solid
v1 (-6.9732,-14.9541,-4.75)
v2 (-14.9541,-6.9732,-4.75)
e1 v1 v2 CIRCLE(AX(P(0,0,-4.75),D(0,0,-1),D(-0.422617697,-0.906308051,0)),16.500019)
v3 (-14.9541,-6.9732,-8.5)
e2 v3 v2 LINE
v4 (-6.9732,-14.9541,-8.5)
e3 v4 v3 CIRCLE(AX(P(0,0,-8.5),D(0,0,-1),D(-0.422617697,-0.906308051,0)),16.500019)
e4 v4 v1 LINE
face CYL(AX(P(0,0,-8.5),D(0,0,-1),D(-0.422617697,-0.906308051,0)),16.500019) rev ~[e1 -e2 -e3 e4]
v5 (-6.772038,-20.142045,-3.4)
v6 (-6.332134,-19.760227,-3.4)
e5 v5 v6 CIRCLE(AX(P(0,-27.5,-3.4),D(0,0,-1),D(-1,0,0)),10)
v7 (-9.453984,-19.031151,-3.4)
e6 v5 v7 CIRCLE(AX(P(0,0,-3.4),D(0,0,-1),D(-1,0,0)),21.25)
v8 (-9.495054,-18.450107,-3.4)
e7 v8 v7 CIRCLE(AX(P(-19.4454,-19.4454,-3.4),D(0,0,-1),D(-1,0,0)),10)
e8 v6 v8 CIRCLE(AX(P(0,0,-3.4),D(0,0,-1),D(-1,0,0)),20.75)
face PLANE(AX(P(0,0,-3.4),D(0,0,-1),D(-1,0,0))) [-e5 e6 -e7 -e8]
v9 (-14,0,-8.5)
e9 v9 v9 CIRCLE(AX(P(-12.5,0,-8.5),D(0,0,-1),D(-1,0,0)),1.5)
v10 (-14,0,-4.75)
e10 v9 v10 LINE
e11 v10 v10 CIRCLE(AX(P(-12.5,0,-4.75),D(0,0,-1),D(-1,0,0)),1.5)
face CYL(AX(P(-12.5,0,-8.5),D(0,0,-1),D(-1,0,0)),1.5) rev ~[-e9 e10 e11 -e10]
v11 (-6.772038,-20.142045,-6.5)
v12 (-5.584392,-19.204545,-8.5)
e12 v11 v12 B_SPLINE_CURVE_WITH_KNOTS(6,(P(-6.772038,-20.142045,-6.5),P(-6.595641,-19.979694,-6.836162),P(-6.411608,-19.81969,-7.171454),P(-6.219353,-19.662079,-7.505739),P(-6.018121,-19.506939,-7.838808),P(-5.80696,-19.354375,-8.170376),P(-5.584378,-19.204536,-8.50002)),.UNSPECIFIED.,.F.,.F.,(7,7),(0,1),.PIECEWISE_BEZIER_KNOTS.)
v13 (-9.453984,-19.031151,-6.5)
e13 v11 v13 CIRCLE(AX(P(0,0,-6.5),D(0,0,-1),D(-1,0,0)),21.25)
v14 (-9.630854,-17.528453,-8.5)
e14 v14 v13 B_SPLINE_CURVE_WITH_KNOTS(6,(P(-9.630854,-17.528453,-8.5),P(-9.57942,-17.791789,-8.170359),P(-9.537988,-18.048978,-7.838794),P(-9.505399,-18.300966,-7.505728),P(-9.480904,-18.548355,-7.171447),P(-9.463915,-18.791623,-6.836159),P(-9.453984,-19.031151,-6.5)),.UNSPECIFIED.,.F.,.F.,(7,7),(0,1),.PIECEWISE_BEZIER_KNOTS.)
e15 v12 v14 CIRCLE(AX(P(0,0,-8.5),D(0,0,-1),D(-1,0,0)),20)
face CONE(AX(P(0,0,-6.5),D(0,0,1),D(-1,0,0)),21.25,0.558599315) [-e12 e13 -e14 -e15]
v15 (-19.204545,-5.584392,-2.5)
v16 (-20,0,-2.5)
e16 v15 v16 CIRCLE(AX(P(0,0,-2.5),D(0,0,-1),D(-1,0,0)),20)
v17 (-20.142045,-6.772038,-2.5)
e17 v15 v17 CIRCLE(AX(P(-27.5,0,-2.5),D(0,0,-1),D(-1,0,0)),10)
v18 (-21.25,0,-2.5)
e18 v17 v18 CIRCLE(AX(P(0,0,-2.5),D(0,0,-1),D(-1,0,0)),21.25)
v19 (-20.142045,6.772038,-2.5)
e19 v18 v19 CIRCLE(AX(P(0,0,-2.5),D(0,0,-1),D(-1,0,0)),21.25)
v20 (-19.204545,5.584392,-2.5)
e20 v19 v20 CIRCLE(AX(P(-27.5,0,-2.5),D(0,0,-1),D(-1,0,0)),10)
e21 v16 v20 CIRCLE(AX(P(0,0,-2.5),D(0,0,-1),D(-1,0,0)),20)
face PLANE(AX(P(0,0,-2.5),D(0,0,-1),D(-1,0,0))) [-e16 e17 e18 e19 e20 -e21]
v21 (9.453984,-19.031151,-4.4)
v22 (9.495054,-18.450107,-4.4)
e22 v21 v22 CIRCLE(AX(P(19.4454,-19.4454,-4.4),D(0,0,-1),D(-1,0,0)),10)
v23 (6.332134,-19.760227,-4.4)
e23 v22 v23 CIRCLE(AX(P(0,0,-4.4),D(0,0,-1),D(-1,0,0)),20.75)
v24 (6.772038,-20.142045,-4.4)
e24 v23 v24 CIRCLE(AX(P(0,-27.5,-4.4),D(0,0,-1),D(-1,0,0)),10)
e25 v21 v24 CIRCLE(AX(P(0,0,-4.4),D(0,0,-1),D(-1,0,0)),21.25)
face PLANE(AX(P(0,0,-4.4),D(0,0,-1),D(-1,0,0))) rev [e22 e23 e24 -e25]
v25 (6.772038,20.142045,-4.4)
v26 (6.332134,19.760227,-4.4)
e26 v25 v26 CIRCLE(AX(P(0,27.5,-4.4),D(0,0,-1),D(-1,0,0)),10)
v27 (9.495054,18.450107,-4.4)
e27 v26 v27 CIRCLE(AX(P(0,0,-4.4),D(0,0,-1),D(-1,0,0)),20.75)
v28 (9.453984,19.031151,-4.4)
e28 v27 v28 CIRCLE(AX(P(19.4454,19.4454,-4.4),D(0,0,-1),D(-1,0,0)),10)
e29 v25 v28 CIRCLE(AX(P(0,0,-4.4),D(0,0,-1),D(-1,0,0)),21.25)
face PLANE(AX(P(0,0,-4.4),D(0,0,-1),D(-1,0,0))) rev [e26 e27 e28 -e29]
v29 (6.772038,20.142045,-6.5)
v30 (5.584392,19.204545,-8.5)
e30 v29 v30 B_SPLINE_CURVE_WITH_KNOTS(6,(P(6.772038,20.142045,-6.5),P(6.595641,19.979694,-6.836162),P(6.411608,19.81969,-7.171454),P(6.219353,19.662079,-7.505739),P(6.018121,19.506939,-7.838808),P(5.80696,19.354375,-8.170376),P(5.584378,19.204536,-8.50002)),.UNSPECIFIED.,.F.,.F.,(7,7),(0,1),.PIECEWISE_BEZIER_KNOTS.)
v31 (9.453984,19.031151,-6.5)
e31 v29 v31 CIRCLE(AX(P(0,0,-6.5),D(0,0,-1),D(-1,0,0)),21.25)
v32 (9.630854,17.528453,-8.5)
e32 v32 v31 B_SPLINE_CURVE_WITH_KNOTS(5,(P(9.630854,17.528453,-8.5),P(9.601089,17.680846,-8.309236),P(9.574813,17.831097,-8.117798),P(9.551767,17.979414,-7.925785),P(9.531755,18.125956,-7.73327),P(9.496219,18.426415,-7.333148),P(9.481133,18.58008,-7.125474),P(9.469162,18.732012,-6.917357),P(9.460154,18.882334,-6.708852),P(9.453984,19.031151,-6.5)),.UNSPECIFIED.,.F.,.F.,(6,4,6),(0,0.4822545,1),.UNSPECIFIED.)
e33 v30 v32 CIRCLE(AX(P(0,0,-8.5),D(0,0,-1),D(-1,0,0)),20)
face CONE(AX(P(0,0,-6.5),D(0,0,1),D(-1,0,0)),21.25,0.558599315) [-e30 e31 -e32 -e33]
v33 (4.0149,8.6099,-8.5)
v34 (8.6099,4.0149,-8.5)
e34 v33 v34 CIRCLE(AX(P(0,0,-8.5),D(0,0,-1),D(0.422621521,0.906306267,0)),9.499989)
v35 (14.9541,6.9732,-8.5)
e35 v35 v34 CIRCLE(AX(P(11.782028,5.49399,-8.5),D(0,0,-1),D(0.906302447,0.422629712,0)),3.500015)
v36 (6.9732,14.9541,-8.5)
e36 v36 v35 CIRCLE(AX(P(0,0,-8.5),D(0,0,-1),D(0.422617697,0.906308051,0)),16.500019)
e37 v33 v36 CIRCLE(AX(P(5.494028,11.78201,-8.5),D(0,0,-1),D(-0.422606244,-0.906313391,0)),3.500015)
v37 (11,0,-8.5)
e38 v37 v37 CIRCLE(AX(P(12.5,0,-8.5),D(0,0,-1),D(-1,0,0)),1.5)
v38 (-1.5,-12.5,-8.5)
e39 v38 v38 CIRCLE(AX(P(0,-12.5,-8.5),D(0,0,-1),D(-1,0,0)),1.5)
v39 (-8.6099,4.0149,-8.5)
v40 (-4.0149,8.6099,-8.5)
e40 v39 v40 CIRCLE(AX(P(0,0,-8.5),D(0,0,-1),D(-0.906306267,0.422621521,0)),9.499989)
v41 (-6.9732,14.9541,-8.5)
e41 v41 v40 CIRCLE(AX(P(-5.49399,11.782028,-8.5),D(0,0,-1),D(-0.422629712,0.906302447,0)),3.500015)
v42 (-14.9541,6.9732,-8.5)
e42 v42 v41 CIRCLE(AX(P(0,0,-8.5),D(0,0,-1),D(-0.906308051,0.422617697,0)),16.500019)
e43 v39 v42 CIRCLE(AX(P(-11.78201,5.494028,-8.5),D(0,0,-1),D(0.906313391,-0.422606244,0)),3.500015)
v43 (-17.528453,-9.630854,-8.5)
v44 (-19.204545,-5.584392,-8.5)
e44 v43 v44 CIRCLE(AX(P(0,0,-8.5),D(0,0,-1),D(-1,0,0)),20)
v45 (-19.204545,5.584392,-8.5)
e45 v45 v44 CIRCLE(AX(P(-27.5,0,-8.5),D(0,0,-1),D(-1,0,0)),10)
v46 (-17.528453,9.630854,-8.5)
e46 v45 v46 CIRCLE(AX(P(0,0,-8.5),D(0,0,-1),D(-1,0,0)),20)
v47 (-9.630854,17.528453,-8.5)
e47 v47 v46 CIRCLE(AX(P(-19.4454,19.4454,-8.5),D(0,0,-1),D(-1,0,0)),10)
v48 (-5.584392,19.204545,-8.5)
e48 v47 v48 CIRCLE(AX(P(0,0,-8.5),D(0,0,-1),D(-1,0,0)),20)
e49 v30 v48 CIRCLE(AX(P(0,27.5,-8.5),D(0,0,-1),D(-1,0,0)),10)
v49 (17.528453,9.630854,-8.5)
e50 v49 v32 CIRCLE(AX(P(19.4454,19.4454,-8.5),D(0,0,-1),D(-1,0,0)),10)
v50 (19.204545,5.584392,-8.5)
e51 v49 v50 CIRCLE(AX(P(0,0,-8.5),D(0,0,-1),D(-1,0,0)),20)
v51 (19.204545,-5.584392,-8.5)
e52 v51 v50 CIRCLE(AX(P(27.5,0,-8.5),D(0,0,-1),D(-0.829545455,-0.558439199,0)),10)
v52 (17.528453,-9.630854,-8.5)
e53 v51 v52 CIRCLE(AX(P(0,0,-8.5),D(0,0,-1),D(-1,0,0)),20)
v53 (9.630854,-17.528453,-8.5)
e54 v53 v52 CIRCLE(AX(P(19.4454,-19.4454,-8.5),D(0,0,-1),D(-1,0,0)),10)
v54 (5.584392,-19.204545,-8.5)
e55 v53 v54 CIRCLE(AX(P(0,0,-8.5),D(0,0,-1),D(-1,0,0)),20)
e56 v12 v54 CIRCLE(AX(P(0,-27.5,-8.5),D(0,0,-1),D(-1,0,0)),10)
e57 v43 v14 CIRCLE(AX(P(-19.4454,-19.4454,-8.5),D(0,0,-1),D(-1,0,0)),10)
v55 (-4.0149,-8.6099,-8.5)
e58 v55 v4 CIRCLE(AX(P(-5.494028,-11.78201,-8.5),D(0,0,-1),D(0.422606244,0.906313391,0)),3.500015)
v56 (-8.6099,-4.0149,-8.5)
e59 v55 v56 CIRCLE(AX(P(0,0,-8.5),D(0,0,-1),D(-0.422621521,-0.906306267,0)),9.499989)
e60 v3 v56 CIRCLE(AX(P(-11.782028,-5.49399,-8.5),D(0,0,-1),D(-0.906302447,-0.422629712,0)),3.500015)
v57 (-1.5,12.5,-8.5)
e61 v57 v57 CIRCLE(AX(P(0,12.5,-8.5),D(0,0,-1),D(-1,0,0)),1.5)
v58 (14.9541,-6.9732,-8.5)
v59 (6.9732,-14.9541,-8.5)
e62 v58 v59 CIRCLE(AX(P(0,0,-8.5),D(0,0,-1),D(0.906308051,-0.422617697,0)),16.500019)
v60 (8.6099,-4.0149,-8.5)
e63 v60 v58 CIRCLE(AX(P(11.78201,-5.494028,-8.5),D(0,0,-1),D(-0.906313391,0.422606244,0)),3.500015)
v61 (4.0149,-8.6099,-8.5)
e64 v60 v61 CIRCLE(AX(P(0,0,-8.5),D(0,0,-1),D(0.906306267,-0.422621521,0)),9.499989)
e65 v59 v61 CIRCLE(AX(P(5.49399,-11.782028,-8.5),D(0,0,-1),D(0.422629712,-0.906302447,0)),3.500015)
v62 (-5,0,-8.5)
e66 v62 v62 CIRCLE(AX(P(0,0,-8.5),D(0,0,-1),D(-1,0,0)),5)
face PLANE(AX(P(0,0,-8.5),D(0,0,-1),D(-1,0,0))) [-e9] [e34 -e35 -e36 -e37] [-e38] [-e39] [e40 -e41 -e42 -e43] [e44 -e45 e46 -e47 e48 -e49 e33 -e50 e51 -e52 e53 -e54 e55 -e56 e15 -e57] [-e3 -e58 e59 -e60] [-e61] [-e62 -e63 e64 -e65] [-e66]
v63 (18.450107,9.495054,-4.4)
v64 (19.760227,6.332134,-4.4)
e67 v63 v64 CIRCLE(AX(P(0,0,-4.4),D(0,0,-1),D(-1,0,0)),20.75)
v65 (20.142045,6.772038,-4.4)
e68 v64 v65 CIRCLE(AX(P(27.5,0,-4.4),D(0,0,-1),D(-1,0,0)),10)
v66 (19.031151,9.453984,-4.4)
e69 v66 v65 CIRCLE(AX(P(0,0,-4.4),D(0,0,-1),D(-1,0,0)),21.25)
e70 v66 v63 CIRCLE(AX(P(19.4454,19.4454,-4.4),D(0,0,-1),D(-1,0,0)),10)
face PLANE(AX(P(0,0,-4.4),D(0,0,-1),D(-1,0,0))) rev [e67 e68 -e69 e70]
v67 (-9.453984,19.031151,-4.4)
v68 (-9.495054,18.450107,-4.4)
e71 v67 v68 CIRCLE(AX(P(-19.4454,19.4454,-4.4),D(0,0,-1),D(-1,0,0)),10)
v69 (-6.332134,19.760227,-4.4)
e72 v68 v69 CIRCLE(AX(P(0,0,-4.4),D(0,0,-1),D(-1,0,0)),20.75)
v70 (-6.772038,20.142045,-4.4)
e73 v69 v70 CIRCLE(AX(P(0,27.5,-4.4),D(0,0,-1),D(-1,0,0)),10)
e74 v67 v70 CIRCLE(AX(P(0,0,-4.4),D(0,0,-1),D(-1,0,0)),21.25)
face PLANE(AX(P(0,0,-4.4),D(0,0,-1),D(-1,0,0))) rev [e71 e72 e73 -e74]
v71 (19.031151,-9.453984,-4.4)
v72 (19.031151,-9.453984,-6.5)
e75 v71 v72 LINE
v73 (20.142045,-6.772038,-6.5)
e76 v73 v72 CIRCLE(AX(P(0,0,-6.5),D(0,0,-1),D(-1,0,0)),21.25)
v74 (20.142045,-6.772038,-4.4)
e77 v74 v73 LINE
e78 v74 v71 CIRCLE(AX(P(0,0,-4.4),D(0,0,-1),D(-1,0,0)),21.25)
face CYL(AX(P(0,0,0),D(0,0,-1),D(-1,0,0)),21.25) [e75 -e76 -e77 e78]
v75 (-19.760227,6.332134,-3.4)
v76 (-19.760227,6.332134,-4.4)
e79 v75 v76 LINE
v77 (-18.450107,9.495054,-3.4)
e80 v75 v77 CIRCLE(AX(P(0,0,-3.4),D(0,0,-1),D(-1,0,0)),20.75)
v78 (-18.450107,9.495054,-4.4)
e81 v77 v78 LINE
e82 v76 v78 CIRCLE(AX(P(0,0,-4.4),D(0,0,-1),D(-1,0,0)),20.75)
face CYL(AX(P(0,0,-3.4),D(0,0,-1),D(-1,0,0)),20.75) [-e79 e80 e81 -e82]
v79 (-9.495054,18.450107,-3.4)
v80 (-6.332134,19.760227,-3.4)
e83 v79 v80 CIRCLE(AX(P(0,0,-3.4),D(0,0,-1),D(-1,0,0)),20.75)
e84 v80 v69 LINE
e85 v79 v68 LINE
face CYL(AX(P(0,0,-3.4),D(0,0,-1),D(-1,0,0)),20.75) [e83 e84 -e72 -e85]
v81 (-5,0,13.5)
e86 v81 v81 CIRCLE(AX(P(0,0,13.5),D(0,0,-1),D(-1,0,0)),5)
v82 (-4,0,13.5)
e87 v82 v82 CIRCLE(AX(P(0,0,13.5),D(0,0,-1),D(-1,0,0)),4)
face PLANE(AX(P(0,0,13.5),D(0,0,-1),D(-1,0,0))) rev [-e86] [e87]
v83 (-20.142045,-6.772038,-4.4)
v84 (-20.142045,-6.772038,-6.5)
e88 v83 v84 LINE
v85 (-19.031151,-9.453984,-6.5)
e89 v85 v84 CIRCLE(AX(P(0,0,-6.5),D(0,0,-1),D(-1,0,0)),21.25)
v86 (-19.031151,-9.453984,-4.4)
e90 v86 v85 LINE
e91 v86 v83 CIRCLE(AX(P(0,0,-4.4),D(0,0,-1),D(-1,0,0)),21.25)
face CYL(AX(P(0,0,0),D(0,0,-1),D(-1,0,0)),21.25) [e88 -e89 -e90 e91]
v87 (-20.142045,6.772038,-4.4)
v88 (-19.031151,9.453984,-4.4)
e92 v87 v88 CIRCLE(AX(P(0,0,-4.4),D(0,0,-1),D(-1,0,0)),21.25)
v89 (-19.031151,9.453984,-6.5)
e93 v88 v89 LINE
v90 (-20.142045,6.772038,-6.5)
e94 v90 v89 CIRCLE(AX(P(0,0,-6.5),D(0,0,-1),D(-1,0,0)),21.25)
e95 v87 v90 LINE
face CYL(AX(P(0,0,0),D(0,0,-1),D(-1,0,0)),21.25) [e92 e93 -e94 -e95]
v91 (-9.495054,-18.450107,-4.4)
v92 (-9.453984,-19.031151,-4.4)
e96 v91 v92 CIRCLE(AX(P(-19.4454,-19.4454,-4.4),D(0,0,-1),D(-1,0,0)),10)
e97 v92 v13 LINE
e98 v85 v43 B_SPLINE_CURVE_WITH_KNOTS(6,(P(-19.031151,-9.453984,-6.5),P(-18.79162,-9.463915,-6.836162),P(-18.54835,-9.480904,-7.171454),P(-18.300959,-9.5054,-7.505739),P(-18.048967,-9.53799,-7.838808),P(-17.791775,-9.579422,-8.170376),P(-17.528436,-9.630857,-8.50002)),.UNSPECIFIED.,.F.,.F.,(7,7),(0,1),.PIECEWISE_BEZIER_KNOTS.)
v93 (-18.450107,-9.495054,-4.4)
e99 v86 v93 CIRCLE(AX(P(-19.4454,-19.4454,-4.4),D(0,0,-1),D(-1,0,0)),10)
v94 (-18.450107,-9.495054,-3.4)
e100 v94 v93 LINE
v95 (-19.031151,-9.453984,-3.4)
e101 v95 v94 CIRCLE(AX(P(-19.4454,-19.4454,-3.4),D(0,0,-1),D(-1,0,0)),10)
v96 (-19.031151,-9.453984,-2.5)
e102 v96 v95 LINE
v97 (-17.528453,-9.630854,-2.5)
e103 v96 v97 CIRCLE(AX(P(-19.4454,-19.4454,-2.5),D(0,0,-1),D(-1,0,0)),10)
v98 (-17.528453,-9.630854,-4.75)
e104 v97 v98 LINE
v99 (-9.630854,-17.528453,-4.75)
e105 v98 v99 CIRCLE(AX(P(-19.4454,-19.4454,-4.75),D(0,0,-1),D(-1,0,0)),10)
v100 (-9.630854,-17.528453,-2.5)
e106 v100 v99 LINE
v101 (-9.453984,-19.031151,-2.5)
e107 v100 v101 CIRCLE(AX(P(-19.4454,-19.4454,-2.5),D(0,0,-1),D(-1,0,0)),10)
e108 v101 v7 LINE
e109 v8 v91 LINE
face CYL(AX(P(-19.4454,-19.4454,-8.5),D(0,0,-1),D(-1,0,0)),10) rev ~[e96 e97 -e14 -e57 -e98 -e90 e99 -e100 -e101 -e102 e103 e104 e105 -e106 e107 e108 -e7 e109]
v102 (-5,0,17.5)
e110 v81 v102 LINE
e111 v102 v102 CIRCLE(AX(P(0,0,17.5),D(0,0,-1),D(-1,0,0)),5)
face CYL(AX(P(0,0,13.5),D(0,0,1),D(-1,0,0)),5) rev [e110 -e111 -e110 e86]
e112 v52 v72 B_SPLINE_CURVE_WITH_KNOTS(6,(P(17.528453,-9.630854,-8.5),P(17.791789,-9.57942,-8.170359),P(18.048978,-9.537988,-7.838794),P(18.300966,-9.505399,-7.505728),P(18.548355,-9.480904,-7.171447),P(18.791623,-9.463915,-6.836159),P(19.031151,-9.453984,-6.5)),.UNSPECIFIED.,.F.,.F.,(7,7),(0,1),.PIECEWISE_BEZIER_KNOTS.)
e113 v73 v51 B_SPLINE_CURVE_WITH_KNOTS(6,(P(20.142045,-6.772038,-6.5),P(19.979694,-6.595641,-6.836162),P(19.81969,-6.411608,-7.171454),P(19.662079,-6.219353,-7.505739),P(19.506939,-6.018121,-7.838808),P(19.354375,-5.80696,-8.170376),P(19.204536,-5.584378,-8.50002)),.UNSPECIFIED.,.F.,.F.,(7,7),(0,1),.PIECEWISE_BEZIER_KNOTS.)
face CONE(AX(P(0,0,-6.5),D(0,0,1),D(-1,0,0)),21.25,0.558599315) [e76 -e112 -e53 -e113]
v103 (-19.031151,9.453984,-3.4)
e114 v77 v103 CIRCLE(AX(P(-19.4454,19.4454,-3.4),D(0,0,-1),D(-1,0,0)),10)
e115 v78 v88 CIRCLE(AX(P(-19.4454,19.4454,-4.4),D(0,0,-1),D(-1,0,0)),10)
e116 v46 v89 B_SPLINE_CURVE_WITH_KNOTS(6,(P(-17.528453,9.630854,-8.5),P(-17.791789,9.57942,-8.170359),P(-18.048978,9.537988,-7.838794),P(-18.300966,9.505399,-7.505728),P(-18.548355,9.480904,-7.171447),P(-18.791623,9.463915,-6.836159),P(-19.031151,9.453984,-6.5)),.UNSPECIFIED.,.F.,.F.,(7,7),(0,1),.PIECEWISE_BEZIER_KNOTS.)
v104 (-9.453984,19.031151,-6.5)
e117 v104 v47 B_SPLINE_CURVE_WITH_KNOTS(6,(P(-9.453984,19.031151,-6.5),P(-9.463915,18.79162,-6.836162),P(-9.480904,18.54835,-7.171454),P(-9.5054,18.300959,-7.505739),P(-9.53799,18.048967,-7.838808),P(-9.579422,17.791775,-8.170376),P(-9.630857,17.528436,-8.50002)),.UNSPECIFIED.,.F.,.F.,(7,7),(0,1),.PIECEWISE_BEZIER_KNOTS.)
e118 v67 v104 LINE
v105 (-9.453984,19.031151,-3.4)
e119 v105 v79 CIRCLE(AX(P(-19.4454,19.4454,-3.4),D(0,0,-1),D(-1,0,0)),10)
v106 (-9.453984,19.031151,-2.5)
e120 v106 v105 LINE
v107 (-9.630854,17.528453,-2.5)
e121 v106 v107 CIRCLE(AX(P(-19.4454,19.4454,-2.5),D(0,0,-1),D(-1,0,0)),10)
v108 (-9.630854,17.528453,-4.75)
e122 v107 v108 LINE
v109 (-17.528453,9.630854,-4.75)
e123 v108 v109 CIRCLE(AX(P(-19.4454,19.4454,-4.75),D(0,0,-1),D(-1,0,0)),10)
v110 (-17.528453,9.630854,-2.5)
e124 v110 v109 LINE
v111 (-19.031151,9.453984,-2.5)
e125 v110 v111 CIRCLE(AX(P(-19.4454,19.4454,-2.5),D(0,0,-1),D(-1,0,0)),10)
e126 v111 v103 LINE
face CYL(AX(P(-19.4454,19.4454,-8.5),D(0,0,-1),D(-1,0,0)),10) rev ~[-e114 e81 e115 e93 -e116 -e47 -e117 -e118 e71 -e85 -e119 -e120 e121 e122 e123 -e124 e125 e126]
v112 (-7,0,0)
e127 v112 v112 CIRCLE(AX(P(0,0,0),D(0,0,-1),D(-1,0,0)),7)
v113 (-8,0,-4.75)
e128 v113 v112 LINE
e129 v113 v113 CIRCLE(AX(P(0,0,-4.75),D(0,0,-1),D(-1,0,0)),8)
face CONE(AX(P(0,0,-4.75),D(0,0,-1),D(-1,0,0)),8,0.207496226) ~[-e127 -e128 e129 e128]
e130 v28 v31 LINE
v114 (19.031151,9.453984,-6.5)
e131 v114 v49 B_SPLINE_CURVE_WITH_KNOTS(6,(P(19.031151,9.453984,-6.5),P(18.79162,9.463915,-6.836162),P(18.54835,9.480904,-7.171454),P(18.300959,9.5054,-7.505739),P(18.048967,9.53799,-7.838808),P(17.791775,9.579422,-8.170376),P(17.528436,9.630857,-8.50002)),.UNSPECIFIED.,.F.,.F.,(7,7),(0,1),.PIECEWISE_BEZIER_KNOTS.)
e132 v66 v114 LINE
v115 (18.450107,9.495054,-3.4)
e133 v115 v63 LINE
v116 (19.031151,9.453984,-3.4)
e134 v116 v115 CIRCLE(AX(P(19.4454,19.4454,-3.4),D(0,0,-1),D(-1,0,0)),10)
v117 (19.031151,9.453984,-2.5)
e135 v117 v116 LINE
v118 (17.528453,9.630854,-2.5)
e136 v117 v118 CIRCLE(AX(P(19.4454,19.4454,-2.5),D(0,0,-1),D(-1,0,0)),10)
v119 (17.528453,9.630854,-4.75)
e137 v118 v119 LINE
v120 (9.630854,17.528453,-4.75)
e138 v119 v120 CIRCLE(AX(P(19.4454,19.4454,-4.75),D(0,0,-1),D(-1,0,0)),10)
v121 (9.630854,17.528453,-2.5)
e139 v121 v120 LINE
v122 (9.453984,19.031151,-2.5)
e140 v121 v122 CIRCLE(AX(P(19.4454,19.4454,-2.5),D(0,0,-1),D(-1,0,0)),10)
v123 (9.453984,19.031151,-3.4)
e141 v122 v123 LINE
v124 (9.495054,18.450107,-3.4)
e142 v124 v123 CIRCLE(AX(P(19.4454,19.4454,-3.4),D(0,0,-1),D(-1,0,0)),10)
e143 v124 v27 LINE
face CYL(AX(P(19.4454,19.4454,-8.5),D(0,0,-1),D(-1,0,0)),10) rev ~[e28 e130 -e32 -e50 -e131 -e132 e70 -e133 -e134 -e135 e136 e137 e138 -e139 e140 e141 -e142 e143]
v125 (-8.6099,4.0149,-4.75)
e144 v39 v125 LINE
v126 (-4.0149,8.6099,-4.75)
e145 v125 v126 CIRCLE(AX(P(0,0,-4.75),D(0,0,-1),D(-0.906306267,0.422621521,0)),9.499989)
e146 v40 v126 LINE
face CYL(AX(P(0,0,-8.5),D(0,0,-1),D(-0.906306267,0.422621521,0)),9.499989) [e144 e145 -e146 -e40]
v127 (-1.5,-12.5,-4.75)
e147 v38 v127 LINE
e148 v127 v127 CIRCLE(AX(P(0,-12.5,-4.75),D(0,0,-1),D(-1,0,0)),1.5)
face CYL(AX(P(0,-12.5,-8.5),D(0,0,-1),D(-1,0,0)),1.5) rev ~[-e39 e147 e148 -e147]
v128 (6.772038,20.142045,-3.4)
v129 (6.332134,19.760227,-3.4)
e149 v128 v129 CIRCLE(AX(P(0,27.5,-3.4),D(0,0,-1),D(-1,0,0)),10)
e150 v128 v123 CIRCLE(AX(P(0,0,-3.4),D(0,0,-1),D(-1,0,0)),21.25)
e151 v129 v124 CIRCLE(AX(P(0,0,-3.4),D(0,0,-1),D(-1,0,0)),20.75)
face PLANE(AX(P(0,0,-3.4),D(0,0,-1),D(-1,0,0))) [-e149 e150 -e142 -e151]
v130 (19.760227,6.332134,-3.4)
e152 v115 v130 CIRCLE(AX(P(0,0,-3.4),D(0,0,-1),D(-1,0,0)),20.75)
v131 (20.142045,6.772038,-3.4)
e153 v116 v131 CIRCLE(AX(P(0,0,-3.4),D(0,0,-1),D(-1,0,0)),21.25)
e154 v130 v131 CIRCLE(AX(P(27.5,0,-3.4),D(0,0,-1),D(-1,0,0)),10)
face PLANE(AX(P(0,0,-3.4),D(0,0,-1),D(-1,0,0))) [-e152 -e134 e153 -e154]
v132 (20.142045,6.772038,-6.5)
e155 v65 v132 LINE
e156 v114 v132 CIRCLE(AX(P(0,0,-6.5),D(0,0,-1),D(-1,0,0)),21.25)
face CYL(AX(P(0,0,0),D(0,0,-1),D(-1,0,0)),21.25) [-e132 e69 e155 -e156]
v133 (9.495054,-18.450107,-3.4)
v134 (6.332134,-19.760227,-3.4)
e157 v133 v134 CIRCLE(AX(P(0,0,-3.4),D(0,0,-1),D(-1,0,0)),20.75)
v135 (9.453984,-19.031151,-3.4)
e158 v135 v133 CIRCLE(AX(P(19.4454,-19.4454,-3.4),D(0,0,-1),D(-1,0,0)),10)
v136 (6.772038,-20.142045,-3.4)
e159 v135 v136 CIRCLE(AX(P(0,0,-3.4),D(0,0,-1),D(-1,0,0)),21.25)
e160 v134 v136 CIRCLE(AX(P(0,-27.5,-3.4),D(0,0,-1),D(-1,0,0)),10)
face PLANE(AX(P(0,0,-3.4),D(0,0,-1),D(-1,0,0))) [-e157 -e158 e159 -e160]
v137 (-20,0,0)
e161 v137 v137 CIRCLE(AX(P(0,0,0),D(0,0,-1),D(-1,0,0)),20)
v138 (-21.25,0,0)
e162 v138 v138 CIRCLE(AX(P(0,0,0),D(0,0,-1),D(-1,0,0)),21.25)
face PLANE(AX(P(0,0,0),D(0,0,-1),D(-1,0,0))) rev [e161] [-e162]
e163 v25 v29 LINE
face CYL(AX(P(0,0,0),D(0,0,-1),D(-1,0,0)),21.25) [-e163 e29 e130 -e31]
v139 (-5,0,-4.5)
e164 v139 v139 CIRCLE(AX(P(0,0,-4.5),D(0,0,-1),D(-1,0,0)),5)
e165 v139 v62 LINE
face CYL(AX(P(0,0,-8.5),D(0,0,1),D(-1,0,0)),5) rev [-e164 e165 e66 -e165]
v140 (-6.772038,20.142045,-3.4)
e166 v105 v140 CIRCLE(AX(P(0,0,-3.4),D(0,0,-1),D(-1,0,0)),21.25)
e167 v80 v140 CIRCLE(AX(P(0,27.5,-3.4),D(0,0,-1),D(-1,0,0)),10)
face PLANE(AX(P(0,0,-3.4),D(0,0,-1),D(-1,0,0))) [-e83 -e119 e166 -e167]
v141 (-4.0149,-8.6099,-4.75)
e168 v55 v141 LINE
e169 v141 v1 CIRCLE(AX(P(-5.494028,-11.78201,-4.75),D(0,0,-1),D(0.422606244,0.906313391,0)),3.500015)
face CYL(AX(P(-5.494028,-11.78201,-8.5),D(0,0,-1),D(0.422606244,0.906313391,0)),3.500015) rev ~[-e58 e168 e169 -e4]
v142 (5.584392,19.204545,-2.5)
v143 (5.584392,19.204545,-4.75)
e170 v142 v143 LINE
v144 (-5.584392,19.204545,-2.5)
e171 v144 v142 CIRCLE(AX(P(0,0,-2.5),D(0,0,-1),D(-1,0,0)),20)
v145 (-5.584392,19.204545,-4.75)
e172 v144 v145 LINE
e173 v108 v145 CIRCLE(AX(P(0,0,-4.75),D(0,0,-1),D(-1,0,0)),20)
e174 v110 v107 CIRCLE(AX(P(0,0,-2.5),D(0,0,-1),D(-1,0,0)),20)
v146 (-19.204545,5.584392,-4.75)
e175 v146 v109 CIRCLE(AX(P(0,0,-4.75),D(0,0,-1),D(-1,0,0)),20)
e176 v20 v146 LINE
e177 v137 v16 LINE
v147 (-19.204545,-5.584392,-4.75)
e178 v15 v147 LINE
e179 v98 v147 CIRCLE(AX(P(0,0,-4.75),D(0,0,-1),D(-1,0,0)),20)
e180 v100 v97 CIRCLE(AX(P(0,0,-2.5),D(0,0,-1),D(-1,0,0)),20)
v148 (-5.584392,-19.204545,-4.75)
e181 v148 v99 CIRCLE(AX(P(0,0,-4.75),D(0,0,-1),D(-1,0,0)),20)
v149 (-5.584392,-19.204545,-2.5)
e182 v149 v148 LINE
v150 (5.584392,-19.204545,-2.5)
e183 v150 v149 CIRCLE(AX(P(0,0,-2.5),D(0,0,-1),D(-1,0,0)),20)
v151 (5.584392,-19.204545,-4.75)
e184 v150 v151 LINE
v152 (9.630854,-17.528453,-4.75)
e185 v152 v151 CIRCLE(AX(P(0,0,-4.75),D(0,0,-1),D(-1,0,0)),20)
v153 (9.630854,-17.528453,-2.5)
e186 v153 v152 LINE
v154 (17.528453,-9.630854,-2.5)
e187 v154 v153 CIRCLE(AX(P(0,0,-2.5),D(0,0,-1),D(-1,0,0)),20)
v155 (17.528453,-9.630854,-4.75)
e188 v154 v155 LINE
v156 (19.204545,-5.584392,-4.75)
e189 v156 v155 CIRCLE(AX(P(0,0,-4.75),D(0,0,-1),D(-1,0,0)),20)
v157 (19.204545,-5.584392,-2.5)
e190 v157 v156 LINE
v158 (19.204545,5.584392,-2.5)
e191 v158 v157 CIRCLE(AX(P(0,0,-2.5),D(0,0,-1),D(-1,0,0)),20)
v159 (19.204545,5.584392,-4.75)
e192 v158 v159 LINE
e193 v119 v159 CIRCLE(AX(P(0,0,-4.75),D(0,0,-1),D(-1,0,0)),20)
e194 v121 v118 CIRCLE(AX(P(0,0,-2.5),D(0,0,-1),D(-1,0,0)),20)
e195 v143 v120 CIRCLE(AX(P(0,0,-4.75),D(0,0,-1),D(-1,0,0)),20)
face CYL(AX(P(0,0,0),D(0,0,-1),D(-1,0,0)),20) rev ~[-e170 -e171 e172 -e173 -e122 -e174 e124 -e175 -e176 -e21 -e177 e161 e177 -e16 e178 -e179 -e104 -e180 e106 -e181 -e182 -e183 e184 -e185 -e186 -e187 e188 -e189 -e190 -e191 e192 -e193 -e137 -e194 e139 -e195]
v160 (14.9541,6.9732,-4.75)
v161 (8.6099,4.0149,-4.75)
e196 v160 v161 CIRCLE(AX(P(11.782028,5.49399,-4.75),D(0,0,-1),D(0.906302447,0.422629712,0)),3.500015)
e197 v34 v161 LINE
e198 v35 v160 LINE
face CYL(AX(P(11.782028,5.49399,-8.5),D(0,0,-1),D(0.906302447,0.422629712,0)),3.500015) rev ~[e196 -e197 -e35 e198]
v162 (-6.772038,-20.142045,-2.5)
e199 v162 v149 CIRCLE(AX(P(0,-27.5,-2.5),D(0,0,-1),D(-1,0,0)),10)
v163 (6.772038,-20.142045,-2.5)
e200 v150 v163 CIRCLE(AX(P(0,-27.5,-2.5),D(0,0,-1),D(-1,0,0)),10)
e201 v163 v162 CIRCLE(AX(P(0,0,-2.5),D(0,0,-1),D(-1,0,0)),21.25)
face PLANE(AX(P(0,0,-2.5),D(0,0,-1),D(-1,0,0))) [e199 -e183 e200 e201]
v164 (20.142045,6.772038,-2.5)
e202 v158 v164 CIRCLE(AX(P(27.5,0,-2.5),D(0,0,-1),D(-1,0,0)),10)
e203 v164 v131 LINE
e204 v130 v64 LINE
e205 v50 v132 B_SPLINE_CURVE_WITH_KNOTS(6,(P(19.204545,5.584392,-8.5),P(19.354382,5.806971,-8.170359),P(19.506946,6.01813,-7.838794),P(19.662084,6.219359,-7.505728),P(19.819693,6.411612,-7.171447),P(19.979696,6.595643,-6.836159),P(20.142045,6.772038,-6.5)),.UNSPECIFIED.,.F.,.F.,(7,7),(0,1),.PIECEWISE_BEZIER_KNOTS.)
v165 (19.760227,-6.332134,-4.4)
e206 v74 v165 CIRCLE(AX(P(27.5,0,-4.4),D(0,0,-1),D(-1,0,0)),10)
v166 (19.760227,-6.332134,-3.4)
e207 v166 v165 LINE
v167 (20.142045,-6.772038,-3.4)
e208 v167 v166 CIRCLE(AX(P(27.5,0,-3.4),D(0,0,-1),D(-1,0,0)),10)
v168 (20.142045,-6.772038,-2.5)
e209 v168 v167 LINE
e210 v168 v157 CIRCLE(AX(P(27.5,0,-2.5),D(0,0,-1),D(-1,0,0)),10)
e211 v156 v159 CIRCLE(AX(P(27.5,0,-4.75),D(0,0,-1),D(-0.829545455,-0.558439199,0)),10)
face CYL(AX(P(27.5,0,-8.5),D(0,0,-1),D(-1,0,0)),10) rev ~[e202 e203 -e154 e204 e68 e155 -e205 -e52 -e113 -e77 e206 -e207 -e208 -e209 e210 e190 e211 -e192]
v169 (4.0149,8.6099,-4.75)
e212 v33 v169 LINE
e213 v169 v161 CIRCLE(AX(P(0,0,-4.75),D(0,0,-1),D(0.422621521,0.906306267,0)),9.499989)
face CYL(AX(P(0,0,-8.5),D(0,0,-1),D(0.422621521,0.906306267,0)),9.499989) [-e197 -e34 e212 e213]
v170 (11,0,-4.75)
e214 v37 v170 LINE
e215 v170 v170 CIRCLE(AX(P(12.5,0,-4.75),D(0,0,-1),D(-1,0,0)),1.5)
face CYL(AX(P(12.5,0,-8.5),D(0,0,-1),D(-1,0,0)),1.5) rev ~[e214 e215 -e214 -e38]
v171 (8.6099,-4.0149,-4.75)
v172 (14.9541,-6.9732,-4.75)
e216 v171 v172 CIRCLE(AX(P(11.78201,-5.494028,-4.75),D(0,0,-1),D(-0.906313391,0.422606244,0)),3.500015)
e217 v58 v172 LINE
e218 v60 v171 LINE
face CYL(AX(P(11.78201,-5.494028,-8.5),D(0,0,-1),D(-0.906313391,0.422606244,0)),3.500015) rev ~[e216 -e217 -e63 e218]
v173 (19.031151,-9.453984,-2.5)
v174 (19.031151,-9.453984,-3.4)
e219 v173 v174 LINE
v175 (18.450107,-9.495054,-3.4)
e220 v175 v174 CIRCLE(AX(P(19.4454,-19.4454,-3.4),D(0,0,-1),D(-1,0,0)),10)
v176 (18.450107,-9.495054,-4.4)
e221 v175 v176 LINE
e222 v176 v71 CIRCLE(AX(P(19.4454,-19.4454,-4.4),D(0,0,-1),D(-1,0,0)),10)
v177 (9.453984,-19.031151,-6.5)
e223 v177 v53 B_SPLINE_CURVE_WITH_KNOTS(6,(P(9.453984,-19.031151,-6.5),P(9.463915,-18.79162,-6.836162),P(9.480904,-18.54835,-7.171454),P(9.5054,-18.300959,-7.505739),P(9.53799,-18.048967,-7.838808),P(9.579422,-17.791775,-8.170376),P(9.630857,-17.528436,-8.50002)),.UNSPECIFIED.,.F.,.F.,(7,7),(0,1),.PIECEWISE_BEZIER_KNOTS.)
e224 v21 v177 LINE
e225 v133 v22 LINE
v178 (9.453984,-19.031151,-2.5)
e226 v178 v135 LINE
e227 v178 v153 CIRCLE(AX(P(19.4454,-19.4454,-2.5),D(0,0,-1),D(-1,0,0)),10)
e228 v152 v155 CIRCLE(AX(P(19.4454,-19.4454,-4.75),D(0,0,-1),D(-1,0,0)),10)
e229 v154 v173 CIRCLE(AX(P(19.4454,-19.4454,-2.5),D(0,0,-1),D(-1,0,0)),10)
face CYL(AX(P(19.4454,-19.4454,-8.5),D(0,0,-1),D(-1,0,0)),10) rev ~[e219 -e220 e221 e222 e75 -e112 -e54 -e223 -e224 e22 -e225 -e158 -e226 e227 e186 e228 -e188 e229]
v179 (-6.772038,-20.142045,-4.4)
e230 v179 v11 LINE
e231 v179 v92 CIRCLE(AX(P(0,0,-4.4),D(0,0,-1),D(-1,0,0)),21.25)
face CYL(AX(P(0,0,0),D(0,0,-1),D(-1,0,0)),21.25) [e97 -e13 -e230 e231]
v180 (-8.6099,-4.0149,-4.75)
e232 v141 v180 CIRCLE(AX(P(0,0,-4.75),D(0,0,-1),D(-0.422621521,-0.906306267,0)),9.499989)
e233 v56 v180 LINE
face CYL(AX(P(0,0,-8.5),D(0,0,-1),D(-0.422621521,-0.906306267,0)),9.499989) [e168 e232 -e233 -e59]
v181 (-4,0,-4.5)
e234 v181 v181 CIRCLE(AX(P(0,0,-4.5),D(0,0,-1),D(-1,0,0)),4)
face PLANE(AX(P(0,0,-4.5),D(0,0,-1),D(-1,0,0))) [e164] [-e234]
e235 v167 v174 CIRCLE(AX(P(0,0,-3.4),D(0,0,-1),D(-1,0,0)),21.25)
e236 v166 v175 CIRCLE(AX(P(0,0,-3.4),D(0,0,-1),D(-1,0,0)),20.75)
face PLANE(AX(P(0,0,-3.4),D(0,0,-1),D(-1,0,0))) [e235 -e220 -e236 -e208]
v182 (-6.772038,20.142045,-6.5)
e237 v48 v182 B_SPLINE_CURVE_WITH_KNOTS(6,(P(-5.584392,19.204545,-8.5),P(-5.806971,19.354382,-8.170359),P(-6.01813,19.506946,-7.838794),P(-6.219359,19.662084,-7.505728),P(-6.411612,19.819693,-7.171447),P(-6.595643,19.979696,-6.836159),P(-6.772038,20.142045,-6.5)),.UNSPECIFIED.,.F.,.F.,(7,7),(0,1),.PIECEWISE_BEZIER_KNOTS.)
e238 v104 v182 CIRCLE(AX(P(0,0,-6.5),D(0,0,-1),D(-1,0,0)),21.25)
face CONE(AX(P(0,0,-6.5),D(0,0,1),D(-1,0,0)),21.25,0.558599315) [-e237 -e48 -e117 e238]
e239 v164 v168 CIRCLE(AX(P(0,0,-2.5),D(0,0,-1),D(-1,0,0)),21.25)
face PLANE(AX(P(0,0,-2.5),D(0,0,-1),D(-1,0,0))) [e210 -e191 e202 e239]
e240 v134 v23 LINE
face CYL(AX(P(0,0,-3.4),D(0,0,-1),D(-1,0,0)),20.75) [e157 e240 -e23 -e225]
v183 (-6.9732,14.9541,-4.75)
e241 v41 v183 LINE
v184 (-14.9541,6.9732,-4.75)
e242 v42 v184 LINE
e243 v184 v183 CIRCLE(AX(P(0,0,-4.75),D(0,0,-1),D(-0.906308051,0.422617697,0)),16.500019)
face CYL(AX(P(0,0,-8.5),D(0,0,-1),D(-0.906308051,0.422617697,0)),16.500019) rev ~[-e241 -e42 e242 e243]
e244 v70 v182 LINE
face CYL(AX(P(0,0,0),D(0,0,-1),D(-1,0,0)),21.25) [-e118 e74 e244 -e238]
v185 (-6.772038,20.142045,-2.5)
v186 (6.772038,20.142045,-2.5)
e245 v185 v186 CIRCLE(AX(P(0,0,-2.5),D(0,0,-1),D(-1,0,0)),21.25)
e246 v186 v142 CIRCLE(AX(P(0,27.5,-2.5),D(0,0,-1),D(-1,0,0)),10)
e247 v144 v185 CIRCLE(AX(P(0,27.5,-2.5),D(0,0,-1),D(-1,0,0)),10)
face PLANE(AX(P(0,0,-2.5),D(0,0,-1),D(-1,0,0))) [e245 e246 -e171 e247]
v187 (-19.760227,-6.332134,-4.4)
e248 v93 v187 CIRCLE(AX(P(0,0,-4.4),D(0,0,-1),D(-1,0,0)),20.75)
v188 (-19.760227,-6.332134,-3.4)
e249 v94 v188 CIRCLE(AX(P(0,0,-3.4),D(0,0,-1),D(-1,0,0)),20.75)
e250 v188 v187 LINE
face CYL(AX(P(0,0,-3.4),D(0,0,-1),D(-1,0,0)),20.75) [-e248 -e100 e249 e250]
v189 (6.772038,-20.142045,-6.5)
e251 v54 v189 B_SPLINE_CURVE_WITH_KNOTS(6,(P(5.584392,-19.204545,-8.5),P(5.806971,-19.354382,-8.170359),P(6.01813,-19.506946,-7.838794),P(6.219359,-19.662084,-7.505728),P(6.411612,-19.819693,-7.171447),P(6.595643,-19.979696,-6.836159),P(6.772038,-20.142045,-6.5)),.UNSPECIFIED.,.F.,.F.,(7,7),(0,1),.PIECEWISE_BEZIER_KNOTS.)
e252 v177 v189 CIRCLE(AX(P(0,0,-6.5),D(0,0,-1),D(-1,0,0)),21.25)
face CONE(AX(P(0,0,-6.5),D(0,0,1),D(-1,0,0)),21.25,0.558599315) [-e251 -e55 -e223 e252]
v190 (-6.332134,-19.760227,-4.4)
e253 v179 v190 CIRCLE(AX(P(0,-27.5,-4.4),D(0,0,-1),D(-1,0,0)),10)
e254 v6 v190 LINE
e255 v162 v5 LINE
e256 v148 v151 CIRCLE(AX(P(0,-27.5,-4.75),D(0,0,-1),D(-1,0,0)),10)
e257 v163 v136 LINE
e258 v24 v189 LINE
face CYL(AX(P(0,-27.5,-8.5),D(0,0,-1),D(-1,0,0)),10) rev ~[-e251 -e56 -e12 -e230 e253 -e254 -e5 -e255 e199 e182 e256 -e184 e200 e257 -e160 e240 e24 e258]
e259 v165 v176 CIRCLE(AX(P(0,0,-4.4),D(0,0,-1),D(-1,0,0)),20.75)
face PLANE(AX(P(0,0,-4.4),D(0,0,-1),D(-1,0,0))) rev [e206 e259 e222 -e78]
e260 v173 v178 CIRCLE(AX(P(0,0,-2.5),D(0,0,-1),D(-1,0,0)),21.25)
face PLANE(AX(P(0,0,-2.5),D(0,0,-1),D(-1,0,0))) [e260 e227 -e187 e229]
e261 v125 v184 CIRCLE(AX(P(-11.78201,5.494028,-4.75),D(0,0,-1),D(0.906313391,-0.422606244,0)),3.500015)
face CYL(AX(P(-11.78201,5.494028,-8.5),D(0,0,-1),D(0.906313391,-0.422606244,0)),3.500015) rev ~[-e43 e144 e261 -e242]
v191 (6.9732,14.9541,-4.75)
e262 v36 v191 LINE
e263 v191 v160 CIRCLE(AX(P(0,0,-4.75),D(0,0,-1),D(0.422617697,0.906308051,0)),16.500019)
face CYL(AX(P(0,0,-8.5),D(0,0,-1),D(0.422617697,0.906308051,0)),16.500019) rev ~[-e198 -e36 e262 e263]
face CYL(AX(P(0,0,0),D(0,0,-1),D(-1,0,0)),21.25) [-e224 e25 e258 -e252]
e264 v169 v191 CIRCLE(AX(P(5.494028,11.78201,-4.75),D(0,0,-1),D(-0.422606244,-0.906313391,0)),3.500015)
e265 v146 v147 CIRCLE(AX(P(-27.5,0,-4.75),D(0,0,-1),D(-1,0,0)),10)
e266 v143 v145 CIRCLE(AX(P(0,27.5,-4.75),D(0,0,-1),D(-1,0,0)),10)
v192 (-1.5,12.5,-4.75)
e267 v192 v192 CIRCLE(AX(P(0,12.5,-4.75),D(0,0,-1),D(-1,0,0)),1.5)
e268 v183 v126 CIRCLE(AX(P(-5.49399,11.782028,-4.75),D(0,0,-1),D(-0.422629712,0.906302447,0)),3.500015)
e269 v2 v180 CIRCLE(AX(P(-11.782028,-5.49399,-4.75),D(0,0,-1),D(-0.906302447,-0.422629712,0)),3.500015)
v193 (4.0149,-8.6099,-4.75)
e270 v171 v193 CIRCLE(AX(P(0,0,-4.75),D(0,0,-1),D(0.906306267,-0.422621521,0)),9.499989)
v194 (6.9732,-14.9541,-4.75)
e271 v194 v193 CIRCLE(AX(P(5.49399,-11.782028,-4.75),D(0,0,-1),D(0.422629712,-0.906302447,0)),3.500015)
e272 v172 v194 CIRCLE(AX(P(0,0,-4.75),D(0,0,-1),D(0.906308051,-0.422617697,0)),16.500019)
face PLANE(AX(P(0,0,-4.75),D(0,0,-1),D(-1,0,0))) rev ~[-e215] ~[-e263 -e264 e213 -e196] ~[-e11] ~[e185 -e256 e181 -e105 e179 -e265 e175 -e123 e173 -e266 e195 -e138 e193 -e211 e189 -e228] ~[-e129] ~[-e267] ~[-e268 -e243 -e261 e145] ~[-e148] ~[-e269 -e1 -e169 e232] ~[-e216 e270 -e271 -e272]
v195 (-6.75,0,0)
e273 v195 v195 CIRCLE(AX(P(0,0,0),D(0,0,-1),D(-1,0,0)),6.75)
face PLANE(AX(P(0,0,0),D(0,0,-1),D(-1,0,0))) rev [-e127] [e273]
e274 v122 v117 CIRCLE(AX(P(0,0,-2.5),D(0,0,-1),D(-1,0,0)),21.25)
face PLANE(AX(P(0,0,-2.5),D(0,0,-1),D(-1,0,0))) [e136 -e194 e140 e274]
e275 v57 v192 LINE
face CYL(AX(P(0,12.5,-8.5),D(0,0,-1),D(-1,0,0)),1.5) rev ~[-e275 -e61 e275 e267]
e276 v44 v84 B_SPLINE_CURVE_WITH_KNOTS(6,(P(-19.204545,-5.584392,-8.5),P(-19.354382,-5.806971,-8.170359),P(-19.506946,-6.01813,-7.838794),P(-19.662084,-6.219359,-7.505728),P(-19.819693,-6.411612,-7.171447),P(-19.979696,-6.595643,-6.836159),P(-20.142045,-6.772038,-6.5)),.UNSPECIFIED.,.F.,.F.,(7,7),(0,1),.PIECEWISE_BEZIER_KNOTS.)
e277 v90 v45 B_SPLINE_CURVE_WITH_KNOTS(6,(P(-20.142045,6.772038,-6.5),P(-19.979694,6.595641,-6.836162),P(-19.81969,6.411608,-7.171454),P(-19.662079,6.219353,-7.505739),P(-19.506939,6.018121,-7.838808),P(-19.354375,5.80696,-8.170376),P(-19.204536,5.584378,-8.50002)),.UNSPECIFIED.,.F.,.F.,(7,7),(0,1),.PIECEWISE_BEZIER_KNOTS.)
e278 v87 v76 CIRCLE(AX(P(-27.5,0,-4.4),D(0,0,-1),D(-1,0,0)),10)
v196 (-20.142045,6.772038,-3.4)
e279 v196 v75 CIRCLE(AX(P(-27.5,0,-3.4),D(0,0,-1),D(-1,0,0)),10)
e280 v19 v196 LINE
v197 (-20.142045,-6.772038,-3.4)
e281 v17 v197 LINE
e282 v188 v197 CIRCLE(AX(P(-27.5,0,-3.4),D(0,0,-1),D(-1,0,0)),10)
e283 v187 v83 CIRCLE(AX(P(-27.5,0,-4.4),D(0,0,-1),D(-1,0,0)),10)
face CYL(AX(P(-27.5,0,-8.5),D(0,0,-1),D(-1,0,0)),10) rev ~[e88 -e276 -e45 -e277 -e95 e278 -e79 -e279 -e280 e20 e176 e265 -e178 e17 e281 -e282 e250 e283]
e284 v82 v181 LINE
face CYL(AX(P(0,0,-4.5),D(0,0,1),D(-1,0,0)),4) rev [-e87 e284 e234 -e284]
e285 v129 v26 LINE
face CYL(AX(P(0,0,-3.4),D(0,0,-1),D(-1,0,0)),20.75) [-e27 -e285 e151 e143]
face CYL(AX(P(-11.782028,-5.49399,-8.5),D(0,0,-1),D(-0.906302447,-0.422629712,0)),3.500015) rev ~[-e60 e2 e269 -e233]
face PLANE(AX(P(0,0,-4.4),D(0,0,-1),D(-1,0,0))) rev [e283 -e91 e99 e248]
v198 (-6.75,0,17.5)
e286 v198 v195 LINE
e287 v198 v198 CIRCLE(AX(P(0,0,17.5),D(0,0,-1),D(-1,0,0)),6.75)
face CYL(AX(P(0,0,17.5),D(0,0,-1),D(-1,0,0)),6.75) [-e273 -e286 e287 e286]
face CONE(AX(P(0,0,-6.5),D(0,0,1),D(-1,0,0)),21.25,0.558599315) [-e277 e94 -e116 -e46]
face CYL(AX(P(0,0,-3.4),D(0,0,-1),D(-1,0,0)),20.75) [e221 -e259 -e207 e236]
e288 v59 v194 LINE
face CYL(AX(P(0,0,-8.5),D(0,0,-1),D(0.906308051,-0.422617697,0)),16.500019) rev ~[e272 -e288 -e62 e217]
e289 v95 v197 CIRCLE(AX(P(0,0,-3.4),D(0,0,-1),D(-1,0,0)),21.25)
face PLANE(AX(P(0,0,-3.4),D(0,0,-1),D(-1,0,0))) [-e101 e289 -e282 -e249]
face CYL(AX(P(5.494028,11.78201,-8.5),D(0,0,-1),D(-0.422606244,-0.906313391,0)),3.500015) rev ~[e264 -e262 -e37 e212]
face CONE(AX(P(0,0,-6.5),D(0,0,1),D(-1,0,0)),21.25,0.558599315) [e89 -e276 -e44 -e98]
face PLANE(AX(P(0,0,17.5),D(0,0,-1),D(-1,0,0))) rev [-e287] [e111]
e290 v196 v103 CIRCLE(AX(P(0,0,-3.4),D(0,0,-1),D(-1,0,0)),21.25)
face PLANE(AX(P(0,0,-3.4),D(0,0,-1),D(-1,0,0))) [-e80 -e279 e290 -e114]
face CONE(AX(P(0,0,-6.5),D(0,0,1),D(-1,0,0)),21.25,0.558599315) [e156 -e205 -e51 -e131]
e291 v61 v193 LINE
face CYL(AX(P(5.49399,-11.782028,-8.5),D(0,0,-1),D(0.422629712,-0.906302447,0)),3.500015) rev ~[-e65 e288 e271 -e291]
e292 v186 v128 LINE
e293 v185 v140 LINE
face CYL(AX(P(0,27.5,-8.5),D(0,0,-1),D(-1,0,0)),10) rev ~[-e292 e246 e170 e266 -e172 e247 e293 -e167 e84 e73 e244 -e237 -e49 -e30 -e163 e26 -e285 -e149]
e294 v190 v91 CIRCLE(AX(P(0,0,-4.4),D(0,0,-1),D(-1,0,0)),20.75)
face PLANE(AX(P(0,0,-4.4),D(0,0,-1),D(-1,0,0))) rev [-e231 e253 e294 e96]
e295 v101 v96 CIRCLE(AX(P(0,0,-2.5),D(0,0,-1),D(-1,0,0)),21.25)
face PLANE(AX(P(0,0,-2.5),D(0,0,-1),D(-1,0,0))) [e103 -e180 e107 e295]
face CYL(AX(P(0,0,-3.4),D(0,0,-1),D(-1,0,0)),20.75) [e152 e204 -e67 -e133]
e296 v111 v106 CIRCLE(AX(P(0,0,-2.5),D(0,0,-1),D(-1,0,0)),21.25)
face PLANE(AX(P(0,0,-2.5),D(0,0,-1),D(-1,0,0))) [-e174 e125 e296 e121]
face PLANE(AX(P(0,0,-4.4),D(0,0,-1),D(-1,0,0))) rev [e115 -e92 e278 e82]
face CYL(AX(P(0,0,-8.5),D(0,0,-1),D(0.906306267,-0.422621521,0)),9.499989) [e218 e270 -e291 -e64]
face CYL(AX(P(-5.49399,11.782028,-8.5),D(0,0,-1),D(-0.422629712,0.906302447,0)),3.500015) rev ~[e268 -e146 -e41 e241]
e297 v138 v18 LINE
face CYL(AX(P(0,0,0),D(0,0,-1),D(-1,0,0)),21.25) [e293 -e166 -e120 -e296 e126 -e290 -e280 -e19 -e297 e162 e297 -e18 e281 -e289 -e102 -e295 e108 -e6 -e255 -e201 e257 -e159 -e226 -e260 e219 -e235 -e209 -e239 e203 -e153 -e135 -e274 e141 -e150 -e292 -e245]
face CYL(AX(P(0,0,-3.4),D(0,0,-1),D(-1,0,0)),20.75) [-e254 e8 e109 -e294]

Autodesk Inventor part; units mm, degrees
ref_plane "YZ Plane" through (0, 0, 0) normal (1, 0, 0) x (0, 1, 0)
ref_plane "XZ Plane" through (0, 0, 0) normal (0, 1, 0) x (-1, 0, 0)
ref_plane "XY Plane" through (0, 0, 0) normal (0, 0, 1) x (1, 0, 0)
sketch "Sketch1" plane through (0, 0, 0) normal (0, 1, 0) x (-1, 0, 0)
  line L0 (0, 0) -> (21.25, 0)
  line L1 (21.25, 0) -> (21.25, -6.5)
  line L2 (21.25, -6.5) -> (0, -6.5) construction
  line L3 (0, -6.5) -> (0, 0)
  line L4 (0, -6.5) -> (20, -6.5) construction
  line L5 (20, -6.5) -> (20, -8.5) construction
  line L6 (20, -8.5) -> (0, -8.5)
  line L7 (0, -8.5) -> (0, -6.5)
  line L8 (21.25, -6.5) -> (20, -8.5)
  line L9 (21.25, -1.6) -> (20.75, -1.6)
  line L10 (20.75, -1.6) -> (20.75, -2.6)
  line L11 (20.75, -2.6) -> (21.25, -2.6) construction
  line L12 (21.25, -2.6) -> (21.25, -1.6)
  line L13 (21.25, -3.4) -> (20.75, -3.4)
  line L14 (20.75, -3.4) -> (20.75, -4.4)
  line L15 (20.75, -4.4) -> (21.25, -4.4)
  line L16 (21.25, -4.4) -> (21.25, -3.4)
  line L17 (0, 0) -> (20, 0) construction
  line L18 (20, 0) -> (20, -4.75)
  line L19 (20, -4.75) -> (5, -4.75)
  line L20 (0, -4.75) -> (0, 0)
  line L21 (5, -4.75) -> (8, -4.75)
  line L22 (8, -4.75) -> (8, 0) construction
  line L23 (8, 0) -> (0, 0)
  line L24 (0, 0) -> (0, -4.75)
  line L25 (8, -4.75) -> (7, 0)
  line L26 (0, -8.5) -> (5, -8.5)
  line L27 (5, -8.5) -> (5, -4.5)
  line L28 (5, -4.5) -> (0, -4.5)
  line L29 (0, -4.5) -> (0, -8.5)
  line L30 (0, -4.5) -> (4, -4.5)
  line L31 (4, -4.5) -> (4, 13.5)
  line L32 (4, 13.5) -> (0, 13.5)
  line L33 (0, 13.5) -> (0, -4.5)
  line L34 (0, 13.5) -> (5, 13.5)
  line L35 (5, 13.5) -> (5, 17.5)
  line L36 (5, 17.5) -> (0, 17.5)
  line L37 (0, 17.5) -> (0, 13.5)
  line L38 (0, 17.5) -> (6.75, 17.5)
  line L39 (6.75, 17.5) -> (6.75, 0)
  line L40 (6.75, 0) -> (0, 0)
  line L41 (0, 0) -> (0, 17.5)
  point P0 (6.75, 0)
  dimension "d0" = 21.25
  dimension "d1" = 6.5
  dimension "d2" = 20
  dimension "d3" = 2
  dimension "d4" = 1.6
  dimension "d5" = 1
  dimension "d6" = 1
  dimension "d7" = 0.8
  dimension "d8" = 0.5
  dimension "d9" = 1.25
  dimension "d10" = 3.75
  dimension "d11" = 8
  dimension "d12" = 7
  dimension "d13" = 5
  dimension "d14" = 4
  dimension "d15" = 4
  dimension "d16" = 18
  dimension "d17" = 5
  dimension "d18" = 4
  dimension "d19" = 6.75
revolve "Revolution1" add sketch "Sketch1" angle 360 about axis through (0, 0, 13.5) along (0, 0, -1) contours L0 L25 L19 L27 L28 L31 | L0 L31 L34 L35 L38 L39 | L19 L18 L0 L1 L13 L14 L15 L8 L6 L27
sketch "Sketch2" plane through (0, 0, -8.5) normal (0, 0, -1) x (-1, 0, 0)
  circle A0 centre (0, 0) radius 12.5 construction
  circle A1 centre (0, 12.5) radius 1.5
  line L0 (0, 17.5) -> (0, 0) construction
  arc A2 (11.782, 5.494) -> (5.494, 11.782) centre (0, 0) ccw construction
  arc A3 (14.9541, 6.9732) -> (6.9732, 14.9541) centre (0, 0) ccw
  arc A4 (8.6099, 4.0149) -> (4.0149, 8.6099) centre (0, 0) ccw
  arc A5 (8.6099, 4.0149) -> (14.9541, 6.9732) centre (11.782, 5.494) ccw
  arc A6 (6.9732, 14.9541) -> (4.0149, 8.6099) centre (5.494, 11.782) ccw
  line L1 (5.494, 11.782) -> (0, 0) construction
  line L2 (0, 0) -> (11.782, 5.494) construction
  circle A7 centre (0, 0) radius 17.5 construction
  circle A8 centre (0, 27.5) radius 10
  circle A9 centre (-12.5, 0) radius 1.5
  arc A10 (-14.9541, 6.9732) -> (-8.6099, 4.0149) centre (-11.782, 5.494) ccw
  arc A11 (-4.0149, 8.6099) -> (-8.6099, 4.0149) centre (0, 0) ccw
  arc A12 (-6.9732, 14.9541) -> (-14.9541, 6.9732) centre (0, 0) ccw
  arc A13 (-4.0149, 8.6099) -> (-6.9732, 14.9541) centre (-5.494, 11.782) ccw
  circle A14 centre (0, -12.5) radius 1.5
  arc A15 (-6.9732, -14.9541) -> (-4.0149, -8.6099) centre (-5.494, -11.782) ccw
  arc A16 (-8.6099, -4.0149) -> (-4.0149, -8.6099) centre (0, 0) ccw
  arc A17 (-14.9541, -6.9732) -> (-6.9732, -14.9541) centre (0, 0) ccw
  arc A18 (-8.6099, -4.0149) -> (-14.9541, -6.9732) centre (-11.782, -5.494) ccw
  circle A19 centre (12.5, 0) radius 1.5
  arc A20 (14.9541, -6.9732) -> (8.6099, -4.0149) centre (11.782, -5.494) ccw
  arc A21 (4.0149, -8.6099) -> (8.6099, -4.0149) centre (0, 0) ccw
  arc A22 (6.9732, -14.9541) -> (14.9541, -6.9732) centre (0, 0) ccw
  arc A23 (4.0149, -8.6099) -> (6.9732, -14.9541) centre (5.494, -11.782) ccw
  circle A24 centre (-19.4454, 19.4454) radius 10
  circle A25 centre (-27.5, 0) radius 10
  circle A26 centre (-19.4454, -19.4454) radius 10
  circle A27 centre (0, -27.5) radius 10
  circle A28 centre (19.4454, -19.4454) radius 10
  circle A29 centre (27.5, 0) radius 10
  circle A30 centre (19.4454, 19.4454) radius 10
  point P0 (-12.3744, 12.3744)
  point P1 (-17.5, 0)
  point P2 (-12.3744, -12.3744)
  point P3 (0, -17.5)
  point P4 (12.3744, -12.3744)
  point P5 (17.5, 0)
  point P6 (12.3744, 12.3744)
  dimension "d21" = 25
  dimension "d27" = 20
  dimension "d22" = 3
  dimension "d23" = 7
  dimension "d24" = 25
  dimension "d25" = 0.5
  dimension "d26" = 40
  dimension "d28" = 35
  dimension "d31" = 360
  dimension "d35" = 360
extrude "Extrusion1" cut sketch "Sketch2" against normal blind 6
properties part number "BASE" material "Stainless Steel"
